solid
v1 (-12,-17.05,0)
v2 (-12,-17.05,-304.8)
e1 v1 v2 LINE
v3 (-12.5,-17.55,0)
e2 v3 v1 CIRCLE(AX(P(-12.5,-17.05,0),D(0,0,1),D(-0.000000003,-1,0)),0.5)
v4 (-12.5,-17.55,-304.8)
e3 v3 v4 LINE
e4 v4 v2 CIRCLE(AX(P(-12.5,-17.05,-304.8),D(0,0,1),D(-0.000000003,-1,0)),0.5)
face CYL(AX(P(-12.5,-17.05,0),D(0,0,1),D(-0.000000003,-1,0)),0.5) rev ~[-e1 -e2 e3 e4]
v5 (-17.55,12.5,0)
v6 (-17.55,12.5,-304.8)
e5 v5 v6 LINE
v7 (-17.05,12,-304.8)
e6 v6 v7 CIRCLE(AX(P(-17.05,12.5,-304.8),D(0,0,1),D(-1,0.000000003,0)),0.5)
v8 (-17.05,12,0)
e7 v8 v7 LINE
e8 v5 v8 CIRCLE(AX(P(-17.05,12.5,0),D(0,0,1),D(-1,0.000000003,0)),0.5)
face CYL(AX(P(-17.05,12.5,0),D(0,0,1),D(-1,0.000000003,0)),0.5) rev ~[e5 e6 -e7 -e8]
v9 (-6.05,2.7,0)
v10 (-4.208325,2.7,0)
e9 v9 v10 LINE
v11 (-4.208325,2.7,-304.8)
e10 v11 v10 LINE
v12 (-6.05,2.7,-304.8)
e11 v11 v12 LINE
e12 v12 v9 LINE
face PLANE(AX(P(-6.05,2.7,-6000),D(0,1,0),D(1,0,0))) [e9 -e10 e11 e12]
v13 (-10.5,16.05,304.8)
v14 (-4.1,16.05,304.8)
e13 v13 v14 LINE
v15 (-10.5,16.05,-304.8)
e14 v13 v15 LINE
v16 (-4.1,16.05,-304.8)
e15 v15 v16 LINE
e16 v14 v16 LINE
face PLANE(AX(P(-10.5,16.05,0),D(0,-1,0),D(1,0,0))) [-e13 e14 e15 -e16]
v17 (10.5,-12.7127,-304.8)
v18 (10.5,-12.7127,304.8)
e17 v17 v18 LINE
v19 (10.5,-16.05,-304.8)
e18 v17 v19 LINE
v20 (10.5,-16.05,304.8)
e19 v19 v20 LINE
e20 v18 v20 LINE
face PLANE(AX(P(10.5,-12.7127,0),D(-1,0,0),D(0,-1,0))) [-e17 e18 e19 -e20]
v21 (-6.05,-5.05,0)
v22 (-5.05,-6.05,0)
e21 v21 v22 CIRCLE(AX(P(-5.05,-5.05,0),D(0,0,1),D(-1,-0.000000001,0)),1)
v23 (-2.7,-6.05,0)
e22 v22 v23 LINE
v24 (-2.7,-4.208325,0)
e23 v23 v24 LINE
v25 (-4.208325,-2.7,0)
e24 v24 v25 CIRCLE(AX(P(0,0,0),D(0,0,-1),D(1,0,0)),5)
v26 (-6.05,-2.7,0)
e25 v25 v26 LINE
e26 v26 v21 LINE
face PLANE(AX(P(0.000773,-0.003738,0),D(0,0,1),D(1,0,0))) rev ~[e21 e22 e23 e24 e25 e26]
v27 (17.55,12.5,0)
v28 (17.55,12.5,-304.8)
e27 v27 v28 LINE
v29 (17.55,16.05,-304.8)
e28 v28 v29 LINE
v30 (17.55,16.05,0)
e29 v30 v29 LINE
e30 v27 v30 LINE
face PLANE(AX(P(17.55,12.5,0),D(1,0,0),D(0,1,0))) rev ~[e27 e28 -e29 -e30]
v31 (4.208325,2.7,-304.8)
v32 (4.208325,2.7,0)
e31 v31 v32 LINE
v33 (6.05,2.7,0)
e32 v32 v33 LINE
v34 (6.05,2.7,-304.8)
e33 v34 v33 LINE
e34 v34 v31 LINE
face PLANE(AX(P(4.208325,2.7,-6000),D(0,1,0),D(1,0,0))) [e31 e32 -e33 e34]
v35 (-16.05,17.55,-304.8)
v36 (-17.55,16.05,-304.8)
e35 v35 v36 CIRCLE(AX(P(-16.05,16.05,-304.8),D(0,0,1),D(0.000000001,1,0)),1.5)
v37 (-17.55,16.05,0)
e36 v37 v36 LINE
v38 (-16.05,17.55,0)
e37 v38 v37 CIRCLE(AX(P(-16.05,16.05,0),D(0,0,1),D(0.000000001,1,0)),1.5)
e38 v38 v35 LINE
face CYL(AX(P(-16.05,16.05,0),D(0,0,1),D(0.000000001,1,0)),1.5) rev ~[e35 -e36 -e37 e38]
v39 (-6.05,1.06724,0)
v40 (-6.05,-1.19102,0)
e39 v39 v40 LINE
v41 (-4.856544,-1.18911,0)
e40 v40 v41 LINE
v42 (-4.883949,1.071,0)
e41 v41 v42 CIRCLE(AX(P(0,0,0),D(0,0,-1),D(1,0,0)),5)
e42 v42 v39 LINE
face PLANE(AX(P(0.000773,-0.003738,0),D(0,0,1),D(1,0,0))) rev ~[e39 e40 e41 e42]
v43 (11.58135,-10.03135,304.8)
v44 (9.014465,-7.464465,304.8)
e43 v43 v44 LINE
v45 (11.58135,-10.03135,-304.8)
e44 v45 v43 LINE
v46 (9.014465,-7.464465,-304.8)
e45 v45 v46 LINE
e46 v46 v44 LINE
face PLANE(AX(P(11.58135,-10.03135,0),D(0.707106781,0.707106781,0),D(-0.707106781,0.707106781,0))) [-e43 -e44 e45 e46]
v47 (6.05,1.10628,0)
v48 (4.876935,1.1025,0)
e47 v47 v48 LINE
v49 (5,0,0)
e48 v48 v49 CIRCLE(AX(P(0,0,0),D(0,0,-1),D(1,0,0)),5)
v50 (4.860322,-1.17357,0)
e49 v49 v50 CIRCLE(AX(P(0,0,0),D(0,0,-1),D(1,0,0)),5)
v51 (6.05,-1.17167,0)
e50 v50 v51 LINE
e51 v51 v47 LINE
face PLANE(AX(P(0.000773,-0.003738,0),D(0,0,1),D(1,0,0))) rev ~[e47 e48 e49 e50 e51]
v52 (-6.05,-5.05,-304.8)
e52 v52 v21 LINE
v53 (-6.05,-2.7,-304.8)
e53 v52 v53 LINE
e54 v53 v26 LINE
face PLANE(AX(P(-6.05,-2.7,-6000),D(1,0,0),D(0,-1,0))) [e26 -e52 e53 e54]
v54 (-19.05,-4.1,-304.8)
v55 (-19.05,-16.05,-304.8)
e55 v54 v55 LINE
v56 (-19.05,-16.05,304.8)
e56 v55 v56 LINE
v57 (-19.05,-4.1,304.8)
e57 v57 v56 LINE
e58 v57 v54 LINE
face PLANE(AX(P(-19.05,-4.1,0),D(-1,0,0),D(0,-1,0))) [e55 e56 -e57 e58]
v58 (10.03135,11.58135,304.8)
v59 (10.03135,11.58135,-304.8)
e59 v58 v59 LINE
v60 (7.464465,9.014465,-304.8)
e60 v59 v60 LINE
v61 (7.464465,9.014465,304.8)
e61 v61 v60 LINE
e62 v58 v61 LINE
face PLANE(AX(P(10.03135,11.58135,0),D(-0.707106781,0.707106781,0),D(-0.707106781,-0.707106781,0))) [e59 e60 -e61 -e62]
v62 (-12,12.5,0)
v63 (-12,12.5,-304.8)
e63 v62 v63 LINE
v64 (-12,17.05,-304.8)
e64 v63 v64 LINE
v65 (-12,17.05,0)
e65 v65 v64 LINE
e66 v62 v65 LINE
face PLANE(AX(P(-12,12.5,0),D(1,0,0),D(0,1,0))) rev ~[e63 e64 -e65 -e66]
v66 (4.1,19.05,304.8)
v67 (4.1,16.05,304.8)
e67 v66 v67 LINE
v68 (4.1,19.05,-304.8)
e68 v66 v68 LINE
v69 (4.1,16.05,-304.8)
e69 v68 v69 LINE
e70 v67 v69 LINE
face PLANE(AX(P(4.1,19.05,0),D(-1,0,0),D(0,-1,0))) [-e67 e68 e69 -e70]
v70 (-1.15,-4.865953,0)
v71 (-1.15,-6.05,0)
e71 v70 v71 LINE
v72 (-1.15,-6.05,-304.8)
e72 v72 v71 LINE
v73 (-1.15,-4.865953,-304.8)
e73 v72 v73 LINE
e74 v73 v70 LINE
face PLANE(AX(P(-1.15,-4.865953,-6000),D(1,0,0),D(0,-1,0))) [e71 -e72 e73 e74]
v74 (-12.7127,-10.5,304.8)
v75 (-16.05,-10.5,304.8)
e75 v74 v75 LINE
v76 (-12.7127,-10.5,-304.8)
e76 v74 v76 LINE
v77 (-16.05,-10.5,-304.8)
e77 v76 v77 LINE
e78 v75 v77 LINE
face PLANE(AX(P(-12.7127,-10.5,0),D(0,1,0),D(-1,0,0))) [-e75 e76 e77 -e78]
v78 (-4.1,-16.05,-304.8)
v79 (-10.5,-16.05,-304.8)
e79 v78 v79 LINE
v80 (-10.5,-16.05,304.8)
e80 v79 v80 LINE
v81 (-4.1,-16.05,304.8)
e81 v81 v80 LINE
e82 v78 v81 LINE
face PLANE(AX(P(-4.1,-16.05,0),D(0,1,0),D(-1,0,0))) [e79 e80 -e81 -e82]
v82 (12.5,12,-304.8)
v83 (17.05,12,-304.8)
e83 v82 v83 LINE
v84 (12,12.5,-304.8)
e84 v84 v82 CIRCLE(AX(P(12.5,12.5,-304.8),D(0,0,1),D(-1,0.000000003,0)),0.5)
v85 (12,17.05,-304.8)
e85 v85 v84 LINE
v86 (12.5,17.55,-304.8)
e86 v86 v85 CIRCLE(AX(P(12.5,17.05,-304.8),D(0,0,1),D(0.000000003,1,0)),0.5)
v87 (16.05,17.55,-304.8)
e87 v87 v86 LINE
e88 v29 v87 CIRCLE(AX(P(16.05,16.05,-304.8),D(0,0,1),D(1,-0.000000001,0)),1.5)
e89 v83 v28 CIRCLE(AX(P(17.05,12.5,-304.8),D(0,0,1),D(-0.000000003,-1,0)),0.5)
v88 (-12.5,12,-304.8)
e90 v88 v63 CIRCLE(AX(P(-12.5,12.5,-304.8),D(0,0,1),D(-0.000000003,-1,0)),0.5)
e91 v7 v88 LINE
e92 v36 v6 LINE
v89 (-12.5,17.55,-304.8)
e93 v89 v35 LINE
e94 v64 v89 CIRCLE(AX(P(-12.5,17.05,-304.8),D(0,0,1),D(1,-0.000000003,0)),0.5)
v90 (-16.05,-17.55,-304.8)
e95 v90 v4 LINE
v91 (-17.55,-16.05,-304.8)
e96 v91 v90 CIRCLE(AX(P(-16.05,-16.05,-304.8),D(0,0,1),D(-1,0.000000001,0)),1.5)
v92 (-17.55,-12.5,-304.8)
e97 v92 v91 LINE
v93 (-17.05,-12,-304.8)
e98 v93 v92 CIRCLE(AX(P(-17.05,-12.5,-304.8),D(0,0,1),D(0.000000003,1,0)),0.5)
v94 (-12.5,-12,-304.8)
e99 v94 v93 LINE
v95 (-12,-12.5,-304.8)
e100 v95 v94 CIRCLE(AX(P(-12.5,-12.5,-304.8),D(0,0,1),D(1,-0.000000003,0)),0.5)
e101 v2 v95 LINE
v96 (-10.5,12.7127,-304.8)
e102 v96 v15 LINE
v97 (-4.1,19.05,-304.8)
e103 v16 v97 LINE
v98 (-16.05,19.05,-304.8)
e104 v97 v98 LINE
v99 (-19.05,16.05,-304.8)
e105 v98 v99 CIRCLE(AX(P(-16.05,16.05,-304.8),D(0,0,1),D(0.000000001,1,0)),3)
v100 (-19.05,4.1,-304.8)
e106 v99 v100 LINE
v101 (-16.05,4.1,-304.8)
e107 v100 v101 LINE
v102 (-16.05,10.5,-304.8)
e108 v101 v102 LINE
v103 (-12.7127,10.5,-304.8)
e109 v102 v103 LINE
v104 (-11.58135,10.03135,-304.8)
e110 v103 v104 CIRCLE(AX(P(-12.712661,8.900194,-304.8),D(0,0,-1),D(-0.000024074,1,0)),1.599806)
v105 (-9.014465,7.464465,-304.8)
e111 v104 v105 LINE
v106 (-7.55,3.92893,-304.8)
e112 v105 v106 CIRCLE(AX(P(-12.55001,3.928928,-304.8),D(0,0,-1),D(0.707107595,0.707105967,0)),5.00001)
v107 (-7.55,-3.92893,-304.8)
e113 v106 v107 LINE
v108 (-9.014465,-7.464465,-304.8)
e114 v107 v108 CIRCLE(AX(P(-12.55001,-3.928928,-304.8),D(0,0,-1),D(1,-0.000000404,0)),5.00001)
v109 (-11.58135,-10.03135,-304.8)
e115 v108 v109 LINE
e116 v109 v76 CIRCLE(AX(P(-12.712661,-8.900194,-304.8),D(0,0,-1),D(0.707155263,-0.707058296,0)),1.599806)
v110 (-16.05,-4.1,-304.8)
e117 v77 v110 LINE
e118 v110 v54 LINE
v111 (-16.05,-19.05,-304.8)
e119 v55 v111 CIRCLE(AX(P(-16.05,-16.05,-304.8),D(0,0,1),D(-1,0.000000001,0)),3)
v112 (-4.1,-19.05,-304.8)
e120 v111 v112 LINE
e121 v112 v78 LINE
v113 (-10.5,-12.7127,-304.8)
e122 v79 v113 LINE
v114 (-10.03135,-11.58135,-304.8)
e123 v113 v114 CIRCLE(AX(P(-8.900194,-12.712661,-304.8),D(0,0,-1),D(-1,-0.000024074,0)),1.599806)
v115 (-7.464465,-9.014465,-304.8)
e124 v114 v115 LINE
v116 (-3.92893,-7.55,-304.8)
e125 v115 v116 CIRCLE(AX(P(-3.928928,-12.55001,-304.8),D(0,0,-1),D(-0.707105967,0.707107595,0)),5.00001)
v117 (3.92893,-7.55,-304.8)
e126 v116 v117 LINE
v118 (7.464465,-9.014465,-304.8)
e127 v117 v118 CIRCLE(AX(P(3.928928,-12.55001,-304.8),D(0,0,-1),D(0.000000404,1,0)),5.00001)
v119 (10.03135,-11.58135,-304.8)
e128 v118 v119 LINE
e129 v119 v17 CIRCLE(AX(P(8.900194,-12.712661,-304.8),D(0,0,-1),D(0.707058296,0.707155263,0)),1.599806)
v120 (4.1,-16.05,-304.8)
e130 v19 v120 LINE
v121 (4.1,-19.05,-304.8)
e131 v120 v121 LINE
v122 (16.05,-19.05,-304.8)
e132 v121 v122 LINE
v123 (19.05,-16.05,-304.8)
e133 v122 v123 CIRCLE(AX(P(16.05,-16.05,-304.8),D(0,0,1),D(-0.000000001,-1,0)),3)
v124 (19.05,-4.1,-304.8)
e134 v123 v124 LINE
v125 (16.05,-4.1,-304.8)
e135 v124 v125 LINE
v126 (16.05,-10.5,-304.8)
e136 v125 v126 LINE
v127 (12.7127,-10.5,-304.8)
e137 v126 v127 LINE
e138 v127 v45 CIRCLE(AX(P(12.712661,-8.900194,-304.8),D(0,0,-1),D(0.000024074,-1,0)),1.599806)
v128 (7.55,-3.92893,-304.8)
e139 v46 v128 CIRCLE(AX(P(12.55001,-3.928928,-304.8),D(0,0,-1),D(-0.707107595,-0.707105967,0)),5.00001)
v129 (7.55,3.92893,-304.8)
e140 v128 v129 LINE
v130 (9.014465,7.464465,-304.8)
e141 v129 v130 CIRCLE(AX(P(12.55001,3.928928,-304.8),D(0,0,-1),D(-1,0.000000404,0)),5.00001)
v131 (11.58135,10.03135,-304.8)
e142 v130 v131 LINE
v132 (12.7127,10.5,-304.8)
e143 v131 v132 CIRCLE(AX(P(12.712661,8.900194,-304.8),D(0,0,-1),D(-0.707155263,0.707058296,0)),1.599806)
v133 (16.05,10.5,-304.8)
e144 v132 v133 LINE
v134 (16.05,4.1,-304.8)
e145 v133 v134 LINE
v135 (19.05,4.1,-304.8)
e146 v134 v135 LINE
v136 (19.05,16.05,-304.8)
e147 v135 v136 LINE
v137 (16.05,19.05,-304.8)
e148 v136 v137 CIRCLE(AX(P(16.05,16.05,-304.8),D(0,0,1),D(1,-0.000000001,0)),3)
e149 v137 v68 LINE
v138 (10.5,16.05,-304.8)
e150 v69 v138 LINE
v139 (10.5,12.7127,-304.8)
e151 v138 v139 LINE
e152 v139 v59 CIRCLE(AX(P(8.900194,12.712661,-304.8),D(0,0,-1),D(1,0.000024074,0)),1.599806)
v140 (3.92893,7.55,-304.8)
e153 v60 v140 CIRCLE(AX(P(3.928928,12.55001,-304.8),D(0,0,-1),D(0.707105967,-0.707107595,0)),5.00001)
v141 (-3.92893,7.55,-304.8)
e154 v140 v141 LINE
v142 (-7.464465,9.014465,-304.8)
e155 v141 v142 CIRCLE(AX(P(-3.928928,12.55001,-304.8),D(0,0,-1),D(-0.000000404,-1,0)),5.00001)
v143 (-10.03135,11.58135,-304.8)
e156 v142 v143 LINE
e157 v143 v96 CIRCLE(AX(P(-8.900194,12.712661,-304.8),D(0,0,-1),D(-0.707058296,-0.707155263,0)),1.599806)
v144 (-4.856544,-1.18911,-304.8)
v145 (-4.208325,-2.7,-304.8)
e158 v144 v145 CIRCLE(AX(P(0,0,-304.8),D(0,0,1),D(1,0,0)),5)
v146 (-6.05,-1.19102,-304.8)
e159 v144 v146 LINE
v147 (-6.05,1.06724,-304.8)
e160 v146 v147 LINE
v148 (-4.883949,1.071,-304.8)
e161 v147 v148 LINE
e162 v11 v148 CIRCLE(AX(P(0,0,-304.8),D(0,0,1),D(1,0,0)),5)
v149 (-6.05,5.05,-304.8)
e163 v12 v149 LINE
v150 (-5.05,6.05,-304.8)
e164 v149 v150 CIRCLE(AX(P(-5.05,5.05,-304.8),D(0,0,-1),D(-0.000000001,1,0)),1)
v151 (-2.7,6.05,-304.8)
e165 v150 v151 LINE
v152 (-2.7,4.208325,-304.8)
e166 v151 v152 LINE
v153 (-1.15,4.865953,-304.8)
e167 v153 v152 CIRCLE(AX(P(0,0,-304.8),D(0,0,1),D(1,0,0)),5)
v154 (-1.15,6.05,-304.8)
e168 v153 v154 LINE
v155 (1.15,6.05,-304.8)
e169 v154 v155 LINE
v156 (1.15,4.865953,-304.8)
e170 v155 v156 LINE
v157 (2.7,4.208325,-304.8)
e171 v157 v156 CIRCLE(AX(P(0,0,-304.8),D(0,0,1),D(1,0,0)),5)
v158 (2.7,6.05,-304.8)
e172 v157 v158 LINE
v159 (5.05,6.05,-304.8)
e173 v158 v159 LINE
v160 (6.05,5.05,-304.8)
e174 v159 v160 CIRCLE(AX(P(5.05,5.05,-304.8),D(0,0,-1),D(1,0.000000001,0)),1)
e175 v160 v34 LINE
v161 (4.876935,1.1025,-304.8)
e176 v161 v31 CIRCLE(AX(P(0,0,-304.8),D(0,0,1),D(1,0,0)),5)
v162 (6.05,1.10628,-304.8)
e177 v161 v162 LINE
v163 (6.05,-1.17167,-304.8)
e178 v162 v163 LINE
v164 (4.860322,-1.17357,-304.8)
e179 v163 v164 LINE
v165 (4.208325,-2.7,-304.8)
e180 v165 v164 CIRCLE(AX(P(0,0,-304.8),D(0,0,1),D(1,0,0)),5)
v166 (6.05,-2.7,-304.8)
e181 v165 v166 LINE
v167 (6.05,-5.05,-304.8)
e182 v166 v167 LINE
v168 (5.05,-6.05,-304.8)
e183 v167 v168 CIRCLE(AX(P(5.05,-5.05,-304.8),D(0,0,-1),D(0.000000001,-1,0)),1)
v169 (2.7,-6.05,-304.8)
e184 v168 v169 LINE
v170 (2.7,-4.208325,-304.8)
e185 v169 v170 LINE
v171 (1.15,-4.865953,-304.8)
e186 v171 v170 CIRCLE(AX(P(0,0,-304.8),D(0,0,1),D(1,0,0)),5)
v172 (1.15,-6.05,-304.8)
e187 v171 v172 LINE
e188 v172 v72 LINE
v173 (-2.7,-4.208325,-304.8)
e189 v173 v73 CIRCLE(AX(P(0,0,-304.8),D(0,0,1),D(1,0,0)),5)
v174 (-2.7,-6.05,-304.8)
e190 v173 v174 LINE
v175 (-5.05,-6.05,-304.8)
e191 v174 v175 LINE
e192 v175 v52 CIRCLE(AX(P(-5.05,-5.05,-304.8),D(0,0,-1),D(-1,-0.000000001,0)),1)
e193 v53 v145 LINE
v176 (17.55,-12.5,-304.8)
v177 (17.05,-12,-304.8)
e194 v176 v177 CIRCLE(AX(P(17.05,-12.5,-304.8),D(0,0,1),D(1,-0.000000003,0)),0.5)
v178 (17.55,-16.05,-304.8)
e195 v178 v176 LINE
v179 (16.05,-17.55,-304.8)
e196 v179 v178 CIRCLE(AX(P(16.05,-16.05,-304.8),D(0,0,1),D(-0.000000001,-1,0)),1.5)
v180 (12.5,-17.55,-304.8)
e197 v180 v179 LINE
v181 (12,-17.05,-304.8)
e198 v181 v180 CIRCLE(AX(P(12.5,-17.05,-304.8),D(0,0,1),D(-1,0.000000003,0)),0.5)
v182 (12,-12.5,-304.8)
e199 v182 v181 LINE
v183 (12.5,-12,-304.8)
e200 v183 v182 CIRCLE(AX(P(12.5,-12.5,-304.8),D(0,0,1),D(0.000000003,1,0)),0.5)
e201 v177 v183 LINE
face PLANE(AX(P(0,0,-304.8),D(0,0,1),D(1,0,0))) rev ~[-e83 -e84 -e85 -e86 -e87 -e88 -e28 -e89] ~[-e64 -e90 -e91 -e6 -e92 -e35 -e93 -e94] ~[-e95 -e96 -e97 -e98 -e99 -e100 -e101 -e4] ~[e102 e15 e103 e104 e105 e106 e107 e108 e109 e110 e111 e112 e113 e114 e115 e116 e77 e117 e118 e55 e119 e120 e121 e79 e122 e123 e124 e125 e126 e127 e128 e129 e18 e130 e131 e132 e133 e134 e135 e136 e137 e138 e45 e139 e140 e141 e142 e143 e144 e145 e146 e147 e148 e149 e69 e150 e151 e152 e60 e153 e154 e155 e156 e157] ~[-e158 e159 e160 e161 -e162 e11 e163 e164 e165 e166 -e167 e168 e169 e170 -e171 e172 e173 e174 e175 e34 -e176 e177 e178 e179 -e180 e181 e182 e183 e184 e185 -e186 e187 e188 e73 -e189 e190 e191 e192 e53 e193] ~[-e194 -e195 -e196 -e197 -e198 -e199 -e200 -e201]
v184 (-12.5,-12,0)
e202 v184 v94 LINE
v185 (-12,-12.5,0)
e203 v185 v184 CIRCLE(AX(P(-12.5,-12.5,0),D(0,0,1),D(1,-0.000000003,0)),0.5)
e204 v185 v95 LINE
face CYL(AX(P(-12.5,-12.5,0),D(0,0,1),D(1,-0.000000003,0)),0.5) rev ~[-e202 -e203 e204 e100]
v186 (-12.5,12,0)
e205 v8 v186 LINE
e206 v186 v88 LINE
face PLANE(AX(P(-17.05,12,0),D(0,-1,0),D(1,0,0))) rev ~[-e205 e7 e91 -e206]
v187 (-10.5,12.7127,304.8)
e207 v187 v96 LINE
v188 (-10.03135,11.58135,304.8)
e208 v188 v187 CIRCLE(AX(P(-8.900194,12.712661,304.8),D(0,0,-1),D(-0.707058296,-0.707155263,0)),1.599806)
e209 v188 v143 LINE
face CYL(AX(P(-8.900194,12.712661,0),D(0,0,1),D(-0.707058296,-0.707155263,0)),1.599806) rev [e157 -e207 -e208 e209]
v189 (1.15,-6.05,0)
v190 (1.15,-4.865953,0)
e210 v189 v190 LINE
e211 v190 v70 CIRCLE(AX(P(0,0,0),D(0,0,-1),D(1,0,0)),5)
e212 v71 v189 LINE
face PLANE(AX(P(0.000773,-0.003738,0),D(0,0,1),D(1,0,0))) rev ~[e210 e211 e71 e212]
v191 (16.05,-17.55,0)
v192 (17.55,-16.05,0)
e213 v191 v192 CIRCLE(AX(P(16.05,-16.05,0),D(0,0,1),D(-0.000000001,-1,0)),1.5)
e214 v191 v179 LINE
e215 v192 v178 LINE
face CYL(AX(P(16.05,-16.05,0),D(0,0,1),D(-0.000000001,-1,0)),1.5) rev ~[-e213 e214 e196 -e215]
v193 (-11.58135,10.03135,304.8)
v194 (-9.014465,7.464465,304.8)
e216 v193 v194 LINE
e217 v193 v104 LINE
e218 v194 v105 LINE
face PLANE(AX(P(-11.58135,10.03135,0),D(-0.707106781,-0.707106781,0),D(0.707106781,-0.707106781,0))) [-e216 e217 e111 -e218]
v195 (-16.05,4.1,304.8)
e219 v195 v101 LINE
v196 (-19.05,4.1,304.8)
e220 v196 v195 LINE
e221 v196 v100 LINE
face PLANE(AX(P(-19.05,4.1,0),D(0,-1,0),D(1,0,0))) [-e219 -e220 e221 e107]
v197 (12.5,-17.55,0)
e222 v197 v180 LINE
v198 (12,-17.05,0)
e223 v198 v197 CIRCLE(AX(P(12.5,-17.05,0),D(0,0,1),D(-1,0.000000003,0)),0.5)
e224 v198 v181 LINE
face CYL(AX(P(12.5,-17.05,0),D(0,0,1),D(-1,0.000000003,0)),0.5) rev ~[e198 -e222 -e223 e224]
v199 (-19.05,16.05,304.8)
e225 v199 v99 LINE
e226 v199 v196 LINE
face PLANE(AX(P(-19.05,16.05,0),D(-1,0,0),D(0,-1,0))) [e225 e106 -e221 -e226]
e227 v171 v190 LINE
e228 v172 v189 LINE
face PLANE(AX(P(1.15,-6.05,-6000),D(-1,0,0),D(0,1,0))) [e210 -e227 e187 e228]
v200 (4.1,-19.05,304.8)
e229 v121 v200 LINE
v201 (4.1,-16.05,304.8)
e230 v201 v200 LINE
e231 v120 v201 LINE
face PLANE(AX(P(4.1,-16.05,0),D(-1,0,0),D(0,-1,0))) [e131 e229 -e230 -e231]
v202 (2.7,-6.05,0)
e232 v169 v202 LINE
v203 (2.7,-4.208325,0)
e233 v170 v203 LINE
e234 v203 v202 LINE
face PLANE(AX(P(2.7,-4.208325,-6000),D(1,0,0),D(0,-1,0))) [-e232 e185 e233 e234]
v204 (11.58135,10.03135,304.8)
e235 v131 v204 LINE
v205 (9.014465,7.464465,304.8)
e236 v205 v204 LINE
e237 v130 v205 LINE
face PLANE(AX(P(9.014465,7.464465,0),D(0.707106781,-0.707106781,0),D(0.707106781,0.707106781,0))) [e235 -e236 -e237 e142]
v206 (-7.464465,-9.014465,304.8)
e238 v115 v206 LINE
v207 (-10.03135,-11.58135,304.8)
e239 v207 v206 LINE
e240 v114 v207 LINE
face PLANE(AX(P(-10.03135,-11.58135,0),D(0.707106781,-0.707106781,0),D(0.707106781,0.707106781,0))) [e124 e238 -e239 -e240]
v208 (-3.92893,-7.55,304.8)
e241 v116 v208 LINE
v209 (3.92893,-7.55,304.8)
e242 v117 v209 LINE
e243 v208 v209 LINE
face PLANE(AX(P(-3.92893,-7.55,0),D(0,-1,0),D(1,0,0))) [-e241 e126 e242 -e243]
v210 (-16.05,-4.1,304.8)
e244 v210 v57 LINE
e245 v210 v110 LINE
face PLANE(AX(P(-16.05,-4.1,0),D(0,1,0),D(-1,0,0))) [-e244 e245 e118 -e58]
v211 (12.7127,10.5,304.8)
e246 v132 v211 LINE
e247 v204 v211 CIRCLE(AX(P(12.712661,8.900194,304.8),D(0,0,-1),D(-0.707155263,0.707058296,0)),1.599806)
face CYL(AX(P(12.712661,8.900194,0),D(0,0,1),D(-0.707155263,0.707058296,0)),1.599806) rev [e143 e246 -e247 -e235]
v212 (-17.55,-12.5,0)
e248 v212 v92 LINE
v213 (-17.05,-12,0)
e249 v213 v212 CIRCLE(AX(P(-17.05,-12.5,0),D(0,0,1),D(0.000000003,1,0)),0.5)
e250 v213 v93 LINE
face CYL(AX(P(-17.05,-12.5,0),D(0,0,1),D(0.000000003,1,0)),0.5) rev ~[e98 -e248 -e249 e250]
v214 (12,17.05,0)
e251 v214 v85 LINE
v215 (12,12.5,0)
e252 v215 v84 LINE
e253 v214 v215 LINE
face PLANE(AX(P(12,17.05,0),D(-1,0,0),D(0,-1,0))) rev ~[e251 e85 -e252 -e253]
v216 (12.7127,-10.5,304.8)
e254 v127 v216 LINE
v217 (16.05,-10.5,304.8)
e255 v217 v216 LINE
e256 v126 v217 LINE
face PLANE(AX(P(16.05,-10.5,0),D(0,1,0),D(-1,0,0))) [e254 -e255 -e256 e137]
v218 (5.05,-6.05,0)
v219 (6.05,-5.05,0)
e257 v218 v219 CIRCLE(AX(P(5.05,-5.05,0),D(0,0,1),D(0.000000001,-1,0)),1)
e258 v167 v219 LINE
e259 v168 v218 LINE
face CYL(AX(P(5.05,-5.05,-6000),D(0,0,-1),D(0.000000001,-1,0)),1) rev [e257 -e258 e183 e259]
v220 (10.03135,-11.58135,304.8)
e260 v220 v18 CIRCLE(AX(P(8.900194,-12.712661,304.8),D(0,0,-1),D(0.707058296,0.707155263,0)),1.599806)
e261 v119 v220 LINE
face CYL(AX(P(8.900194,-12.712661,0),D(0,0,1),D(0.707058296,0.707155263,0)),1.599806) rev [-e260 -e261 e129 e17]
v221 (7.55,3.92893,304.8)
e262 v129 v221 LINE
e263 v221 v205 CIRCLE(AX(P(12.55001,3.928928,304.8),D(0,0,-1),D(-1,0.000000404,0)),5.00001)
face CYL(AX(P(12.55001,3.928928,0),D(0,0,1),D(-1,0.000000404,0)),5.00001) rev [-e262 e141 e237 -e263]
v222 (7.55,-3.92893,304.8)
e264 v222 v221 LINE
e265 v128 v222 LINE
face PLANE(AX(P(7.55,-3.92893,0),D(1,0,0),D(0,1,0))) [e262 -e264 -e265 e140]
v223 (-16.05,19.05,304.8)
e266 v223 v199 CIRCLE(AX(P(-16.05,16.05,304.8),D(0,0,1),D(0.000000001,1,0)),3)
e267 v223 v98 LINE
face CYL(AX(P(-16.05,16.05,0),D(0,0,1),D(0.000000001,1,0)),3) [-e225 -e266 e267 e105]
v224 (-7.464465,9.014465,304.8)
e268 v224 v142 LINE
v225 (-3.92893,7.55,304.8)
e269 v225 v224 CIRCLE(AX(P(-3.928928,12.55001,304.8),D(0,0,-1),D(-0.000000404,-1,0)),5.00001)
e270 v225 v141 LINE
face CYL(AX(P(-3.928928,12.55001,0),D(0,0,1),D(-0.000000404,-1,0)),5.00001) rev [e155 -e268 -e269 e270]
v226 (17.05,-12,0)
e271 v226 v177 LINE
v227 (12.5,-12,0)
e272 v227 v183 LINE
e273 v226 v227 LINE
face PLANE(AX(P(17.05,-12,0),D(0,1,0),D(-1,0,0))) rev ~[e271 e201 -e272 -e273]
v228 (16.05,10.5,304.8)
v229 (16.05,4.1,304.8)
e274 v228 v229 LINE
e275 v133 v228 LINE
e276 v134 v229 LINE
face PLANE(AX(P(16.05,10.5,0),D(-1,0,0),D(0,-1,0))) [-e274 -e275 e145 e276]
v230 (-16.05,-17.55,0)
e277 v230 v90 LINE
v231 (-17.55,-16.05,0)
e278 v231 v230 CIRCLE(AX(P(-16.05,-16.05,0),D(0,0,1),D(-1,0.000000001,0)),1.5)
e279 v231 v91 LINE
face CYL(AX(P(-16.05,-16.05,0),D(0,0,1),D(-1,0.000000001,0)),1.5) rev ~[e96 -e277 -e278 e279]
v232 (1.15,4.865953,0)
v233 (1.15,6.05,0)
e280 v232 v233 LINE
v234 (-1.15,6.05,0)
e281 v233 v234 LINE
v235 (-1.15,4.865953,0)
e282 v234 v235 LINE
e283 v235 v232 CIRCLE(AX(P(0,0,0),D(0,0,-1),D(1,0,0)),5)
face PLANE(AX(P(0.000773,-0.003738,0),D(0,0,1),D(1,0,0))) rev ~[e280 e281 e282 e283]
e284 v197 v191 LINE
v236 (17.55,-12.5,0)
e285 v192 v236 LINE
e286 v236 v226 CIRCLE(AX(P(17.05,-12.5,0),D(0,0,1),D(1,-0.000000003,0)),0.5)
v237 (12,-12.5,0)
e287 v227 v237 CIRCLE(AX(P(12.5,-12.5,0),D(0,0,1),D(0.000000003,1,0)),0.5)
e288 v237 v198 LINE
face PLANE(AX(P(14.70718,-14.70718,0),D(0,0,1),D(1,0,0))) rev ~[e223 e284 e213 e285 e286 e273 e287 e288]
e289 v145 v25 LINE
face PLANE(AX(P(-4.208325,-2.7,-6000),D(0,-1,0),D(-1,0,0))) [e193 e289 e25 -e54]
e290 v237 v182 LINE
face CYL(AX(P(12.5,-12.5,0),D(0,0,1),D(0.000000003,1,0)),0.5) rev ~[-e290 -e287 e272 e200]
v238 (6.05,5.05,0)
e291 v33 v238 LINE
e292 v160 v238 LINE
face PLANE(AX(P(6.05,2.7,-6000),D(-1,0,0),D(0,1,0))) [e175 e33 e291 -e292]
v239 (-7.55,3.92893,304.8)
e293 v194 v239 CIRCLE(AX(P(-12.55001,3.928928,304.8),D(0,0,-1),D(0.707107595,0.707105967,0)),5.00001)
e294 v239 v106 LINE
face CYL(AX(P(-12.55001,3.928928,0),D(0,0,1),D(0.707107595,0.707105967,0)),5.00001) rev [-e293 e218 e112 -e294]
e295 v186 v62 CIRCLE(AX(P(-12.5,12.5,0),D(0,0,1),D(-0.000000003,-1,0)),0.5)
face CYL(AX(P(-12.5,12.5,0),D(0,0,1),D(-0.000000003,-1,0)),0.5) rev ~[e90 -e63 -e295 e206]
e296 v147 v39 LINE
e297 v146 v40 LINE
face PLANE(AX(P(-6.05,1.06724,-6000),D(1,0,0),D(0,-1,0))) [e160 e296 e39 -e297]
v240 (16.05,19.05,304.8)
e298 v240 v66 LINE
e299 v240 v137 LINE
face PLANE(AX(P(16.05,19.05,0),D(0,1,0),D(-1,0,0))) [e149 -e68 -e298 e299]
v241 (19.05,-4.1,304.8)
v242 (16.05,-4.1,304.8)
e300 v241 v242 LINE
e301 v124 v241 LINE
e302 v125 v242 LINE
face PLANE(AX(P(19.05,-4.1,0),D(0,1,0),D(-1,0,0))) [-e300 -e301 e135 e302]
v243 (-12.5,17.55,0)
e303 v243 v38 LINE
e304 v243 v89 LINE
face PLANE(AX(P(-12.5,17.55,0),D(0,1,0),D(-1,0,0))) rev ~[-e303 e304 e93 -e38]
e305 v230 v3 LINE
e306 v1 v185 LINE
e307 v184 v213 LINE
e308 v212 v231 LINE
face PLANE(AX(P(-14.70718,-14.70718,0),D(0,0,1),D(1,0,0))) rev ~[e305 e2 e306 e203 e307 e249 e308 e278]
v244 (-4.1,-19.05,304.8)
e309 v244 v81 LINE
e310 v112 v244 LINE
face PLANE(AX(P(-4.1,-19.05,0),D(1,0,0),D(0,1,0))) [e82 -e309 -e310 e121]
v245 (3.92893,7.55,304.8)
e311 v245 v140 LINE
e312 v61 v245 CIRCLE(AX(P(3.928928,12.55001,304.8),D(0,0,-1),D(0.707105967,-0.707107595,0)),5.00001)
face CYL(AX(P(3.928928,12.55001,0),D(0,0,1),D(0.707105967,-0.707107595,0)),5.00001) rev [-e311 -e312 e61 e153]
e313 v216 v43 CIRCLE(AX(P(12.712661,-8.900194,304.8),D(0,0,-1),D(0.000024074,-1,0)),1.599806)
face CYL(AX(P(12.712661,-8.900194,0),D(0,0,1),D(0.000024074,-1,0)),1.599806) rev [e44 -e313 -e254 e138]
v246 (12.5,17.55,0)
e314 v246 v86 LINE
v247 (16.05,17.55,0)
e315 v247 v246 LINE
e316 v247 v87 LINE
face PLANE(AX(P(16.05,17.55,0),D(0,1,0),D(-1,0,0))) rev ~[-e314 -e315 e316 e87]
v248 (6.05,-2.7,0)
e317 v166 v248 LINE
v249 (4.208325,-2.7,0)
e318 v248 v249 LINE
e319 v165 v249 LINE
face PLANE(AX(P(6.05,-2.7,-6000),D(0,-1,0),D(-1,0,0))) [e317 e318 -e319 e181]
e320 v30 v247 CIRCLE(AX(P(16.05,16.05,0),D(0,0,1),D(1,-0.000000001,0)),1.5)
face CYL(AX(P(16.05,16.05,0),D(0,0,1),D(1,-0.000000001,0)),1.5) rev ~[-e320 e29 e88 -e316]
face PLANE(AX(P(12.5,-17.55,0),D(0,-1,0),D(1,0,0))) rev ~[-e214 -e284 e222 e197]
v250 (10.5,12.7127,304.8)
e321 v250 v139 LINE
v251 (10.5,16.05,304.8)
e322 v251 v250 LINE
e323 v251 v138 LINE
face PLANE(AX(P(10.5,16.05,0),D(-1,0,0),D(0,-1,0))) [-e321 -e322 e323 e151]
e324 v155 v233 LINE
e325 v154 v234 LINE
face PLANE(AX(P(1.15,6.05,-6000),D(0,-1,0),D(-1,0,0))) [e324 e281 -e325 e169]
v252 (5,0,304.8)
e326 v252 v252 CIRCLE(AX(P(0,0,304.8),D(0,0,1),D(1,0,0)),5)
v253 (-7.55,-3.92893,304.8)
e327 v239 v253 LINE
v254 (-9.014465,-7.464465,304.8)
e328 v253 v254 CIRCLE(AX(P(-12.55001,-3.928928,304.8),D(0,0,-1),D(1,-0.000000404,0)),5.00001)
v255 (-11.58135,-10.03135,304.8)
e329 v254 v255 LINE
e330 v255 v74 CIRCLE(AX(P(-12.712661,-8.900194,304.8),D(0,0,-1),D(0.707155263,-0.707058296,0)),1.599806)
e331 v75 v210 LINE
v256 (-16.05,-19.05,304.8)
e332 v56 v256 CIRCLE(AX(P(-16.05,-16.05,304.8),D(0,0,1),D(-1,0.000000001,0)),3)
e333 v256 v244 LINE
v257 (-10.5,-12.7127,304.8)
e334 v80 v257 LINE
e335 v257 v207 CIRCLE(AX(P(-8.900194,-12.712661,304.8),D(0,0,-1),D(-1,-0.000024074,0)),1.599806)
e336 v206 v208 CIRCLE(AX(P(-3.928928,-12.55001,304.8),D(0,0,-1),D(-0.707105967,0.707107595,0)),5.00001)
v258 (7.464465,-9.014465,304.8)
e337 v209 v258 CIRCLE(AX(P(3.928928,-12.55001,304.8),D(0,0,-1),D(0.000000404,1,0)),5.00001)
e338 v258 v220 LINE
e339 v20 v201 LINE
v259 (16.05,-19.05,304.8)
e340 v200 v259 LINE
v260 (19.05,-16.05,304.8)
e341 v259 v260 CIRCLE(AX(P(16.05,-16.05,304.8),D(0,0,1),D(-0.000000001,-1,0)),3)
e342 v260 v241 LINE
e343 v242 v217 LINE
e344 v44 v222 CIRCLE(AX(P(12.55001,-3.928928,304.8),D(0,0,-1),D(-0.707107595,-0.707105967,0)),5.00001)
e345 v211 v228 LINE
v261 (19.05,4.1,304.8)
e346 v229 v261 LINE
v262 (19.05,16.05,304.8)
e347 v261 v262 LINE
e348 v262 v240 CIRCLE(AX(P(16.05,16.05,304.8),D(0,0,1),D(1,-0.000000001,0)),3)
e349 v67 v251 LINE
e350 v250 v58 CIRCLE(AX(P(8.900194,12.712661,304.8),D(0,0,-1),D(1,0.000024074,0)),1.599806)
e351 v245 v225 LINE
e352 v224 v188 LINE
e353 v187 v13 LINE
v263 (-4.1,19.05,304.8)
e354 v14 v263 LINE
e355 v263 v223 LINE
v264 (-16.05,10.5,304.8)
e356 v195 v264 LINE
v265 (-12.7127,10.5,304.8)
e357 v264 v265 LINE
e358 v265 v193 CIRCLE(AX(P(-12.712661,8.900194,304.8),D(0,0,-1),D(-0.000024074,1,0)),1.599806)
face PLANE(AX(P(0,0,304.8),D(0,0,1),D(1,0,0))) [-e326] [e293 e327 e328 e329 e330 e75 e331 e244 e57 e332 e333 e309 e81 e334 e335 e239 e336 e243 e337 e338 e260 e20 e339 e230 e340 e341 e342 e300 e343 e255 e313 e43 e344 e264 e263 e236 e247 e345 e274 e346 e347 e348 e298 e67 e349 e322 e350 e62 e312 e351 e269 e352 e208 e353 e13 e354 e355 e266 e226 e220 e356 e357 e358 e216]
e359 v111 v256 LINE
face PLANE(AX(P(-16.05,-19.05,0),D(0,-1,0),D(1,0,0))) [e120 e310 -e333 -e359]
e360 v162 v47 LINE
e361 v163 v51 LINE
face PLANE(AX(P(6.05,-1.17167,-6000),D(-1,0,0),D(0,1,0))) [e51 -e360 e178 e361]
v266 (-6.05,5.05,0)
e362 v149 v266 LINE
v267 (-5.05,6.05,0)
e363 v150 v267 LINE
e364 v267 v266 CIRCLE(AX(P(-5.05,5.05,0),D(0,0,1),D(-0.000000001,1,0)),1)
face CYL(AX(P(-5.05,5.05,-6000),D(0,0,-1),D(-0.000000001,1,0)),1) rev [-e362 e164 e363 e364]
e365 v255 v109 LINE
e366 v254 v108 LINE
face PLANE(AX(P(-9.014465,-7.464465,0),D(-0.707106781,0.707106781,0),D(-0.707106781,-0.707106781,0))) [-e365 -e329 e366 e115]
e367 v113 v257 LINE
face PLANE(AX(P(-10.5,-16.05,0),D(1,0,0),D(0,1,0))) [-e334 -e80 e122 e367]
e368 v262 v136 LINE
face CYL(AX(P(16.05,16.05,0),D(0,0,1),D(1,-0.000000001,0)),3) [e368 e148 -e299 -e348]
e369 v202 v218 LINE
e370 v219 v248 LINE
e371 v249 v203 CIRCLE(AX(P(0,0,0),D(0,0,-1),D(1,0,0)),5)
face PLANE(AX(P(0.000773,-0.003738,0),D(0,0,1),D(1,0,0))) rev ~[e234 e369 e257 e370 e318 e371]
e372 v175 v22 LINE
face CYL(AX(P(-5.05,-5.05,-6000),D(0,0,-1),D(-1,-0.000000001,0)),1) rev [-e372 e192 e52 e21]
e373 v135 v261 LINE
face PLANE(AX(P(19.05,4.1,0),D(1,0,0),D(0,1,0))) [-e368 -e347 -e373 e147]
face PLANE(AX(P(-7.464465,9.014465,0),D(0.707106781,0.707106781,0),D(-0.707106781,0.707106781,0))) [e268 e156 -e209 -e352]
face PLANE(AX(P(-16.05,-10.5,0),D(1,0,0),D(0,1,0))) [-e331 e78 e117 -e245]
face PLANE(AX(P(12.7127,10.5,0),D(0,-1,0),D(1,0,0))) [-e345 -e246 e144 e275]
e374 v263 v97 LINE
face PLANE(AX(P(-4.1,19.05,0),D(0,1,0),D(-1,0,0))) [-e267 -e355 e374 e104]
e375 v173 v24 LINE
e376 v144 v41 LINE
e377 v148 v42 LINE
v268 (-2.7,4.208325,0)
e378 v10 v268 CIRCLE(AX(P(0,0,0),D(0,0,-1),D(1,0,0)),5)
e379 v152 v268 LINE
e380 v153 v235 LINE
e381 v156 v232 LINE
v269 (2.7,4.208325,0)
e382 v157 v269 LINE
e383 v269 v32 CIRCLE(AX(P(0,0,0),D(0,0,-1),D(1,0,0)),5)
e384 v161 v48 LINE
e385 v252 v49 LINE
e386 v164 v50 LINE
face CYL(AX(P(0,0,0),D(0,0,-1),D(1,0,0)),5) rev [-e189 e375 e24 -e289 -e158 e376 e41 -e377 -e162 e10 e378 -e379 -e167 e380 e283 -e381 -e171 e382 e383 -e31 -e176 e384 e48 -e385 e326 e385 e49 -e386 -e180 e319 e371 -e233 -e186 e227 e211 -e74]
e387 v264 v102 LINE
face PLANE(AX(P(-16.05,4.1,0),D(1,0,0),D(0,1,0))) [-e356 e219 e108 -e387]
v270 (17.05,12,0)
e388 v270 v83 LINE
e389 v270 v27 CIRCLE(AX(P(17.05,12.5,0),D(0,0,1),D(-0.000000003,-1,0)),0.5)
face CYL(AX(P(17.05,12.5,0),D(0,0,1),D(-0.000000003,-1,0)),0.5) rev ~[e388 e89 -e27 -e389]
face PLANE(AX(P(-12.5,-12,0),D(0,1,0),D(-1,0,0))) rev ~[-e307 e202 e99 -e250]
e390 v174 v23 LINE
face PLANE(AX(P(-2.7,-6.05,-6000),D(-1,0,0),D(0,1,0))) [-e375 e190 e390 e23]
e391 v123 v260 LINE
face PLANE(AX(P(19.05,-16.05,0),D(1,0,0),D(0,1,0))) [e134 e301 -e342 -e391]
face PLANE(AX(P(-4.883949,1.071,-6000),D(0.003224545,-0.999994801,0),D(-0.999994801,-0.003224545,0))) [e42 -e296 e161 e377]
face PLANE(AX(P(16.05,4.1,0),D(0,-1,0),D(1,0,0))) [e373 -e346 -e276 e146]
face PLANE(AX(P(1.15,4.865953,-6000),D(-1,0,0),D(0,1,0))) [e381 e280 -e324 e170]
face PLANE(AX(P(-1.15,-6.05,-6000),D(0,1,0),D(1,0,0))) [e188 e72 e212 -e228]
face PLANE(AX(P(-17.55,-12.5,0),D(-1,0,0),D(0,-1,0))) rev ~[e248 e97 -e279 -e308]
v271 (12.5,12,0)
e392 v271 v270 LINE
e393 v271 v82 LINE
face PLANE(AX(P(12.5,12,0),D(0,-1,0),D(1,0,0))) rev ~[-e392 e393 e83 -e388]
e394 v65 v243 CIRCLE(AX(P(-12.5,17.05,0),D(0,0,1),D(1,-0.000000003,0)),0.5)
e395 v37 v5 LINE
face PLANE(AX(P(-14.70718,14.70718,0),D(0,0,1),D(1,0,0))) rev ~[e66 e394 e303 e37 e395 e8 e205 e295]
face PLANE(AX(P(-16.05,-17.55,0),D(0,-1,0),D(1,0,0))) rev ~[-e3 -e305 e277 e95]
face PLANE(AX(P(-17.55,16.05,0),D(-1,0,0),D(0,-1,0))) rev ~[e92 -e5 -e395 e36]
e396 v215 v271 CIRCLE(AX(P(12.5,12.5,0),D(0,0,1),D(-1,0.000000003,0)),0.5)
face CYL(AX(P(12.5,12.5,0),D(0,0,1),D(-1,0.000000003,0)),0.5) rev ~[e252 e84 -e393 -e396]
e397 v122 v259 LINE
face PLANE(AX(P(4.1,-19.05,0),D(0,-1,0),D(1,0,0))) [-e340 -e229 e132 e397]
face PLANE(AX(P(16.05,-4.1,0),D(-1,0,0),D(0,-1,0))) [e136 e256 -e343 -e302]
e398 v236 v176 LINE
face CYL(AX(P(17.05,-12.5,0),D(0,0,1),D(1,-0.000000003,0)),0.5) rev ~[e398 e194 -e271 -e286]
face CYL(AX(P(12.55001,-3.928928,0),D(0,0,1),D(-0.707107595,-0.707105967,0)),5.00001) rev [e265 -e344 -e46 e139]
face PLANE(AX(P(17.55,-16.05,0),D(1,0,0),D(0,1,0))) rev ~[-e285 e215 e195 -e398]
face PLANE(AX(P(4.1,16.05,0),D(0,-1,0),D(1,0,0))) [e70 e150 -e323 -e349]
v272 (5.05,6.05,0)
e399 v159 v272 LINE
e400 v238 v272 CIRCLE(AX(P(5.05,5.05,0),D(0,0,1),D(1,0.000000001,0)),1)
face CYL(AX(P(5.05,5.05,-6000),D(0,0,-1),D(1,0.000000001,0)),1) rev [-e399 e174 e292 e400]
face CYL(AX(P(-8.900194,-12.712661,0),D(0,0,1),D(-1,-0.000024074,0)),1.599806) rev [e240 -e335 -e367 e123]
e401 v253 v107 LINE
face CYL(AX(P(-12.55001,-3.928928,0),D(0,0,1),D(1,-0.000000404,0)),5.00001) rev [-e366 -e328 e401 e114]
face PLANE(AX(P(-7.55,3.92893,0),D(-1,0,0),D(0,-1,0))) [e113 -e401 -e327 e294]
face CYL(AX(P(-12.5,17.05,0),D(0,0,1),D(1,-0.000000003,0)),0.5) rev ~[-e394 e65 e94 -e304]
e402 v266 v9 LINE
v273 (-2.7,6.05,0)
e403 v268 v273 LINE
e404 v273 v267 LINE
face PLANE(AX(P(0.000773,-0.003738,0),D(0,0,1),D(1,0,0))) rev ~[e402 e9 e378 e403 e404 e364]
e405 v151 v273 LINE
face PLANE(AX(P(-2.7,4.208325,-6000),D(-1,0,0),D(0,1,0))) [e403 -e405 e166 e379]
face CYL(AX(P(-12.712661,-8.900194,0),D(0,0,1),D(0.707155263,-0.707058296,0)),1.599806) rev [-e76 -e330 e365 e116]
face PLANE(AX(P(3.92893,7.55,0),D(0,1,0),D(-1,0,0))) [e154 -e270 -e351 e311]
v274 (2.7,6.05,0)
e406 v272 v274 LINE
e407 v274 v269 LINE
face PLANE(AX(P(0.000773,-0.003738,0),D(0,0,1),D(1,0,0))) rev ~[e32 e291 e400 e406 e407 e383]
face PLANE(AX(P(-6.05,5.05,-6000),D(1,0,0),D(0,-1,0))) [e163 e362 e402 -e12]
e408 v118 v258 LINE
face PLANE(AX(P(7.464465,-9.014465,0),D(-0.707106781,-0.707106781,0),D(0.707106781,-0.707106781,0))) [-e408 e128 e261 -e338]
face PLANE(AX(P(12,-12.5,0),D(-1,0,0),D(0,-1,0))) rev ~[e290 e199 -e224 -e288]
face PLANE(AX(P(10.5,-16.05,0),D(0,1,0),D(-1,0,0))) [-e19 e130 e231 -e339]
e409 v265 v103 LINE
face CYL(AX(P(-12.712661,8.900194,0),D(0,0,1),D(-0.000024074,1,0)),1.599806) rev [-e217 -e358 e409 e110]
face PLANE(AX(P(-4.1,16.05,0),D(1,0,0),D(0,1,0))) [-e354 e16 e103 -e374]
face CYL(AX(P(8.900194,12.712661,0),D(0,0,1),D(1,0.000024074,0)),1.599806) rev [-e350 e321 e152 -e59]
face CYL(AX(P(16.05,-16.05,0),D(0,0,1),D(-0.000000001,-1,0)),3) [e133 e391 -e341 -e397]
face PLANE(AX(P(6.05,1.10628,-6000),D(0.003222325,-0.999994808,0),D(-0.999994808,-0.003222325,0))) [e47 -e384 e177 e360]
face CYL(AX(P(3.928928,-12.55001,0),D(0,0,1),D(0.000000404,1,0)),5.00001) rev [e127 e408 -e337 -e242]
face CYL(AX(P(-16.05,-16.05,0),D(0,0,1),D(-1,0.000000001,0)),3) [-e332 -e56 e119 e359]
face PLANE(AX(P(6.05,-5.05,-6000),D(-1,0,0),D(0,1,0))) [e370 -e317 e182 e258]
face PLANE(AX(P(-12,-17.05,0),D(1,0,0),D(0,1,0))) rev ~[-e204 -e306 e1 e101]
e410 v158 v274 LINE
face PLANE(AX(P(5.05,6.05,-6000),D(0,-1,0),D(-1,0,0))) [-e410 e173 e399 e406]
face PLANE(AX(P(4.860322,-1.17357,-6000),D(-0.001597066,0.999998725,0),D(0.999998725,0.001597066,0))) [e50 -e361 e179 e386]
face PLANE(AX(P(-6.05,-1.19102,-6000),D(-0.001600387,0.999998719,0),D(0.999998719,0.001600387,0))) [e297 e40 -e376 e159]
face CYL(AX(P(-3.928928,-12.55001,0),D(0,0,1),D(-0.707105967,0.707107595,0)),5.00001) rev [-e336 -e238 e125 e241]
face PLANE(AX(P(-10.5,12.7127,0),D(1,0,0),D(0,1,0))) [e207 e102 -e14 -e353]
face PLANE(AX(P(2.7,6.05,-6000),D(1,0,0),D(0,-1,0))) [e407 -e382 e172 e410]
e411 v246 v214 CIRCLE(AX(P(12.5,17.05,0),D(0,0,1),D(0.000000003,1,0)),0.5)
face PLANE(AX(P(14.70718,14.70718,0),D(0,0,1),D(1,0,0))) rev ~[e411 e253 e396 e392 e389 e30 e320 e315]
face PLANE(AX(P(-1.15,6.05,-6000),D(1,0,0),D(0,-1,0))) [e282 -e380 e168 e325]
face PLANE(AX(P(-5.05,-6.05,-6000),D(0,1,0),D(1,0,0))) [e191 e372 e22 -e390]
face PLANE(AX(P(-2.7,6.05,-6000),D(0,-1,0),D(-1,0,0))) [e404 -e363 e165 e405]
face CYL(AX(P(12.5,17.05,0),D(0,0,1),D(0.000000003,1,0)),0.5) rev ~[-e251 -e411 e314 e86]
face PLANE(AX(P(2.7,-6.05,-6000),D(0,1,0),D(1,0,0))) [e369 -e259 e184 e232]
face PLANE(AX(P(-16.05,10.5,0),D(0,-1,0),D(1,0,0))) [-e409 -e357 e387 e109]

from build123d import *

# Parameters (mm, degrees)
SKETCH1_R           = 5
BOSS_EXTRUDE1_DEPTH = 304.8
CUT_EXTRUDE1_DEPTH  = 6000
CUT_EXTRUDE2_DEPTH  = 6000
CUT_EXTRUDE3_START  = -6000
CUT_EXTRUDE3_DEPTH  = 6000
CUT_EXTRUDE4_DEPTH  = 6000
CUT_EXTRUDE5_DEPTH  = 6000


with BuildPart() as part:
    # Sketch1 → Boss-Extrude1 (new, symmetric)
    with BuildSketch(Plane.XY):
        with BuildLine():
            Line((-19.05, -4.1), (-19.05, -16.05))
            ThreePointArc((-19.05, -16.05), (-18.171320344, -18.171320344), (-16.05, -19.05))
            Line((-16.05, -19.05), (-4.1, -19.05))
            Line((-4.1, -19.05), (-4.1, -16.05))
            Line((-4.1, -16.05), (-10.5, -16.05))
            Line((-10.5, -16.05), (-10.5, -12.7127))
            ThreePointArc((-10.5, -12.7127), (-10.378208373, -12.100409218), (-10.03135, -11.58135))
            Line((-10.03135, -11.58135), (-7.464465, -9.014465))
            ThreePointArc((-7.464465, -9.014465), (-5.842347304, -7.930602396), (-3.92893, -7.55))
            Line((-3.92893, -7.55), (3.92893, -7.55))
            ThreePointArc((3.92893, -7.55), (5.842347304, -7.930602396), (7.464465, -9.014465))
            Line((7.464465, -9.014465), (10.03135, -11.58135))
            ThreePointArc((10.03135, -11.58135), (10.378208373, -12.100409218), (10.5, -12.7127))
            Line((10.5, -12.7127), (10.5, -16.05))
            Line((10.5, -16.05), (4.1, -16.05))
            Line((4.1, -16.05), (4.1, -19.05))
            Line((4.1, -19.05), (16.05, -19.05))
            ThreePointArc((16.05, -19.05), (18.171320344, -18.171320344), (19.05, -16.05))
            Line((19.05, -16.05), (19.05, -4.1))
            Line((19.05, -4.1), (16.05, -4.1))
            Line((16.05, -4.1), (16.05, -10.5))
            Line((16.05, -10.5), (12.7127, -10.5))
            ThreePointArc((12.7127, -10.5), (12.100409218, -10.378208373), (11.58135, -10.03135))
            Line((11.58135, -10.03135), (9.014465, -7.464465))
            ThreePointArc((9.014465, -7.464465), (7.930602396, -5.842347304), (7.55, -3.92893))
            Line((7.55, -3.92893), (7.55, 3.92893))
            ThreePointArc((7.55, 3.92893), (7.930602396, 5.842347304), (9.014465, 7.464465))
            Line((9.014465, 7.464465), (11.58135, 10.03135))
            ThreePointArc((11.58135, 10.03135), (12.100409218, 10.378208373), (12.7127, 10.5))
            Line((12.7127, 10.5), (16.05, 10.5))
            Line((16.05, 10.5), (16.05, 4.1))
            Line((16.05, 4.1), (19.05, 4.1))
            Line((19.05, 4.1), (19.05, 16.05))
            ThreePointArc((19.05, 16.05), (18.171320344, 18.171320344), (16.05, 19.05))
            Line((16.05, 19.05), (4.1, 19.05))
            Line((4.1, 19.05), (4.1, 16.05))
            Line((4.1, 16.05), (10.5, 16.05))
            Line((10.5, 16.05), (10.5, 12.7127))
            ThreePointArc((10.5, 12.7127), (10.378208373, 12.100409218), (10.03135, 11.58135))
            Line((10.03135, 11.58135), (7.464465, 9.014465))
            ThreePointArc((7.464465, 9.014465), (5.842347304, 7.930602396), (3.92893, 7.55))
            Line((3.92893, 7.55), (-3.92893, 7.55))
            ThreePointArc((-3.92893, 7.55), (-5.842347304, 7.930602396), (-7.464465, 9.014465))
            Line((-7.464465, 9.014465), (-10.03135, 11.58135))
            ThreePointArc((-10.03135, 11.58135), (-10.378208373, 12.100409218), (-10.5, 12.7127))
            Line((-10.5, 12.7127), (-10.5, 16.05))
            Line((-10.5, 16.05), (-4.1, 16.05))
            Line((-4.1, 16.05), (-4.1, 19.05))
            Line((-4.1, 19.05), (-16.05, 19.05))
            ThreePointArc((-16.05, 19.05), (-18.171320344, 18.171320344), (-19.05, 16.05))
            Line((-19.05, 16.05), (-19.05, 4.1))
            Line((-19.05, 4.1), (-16.05, 4.1))
            Line((-16.05, 4.1), (-16.05, 10.5))
            Line((-16.05, 10.5), (-12.7127, 10.5))
            ThreePointArc((-12.7127, 10.5), (-12.100409218, 10.378208373), (-11.58135, 10.03135))
            Line((-11.58135, 10.03135), (-9.014465, 7.464465))
            ThreePointArc((-9.014465, 7.464465), (-7.930602396, 5.842347304), (-7.55, 3.92893))
            Line((-7.55, 3.92893), (-7.55, -3.92893))
            ThreePointArc((-7.55, -3.92893), (-7.930602396, -5.842347304), (-9.014465, -7.464465))
            Line((-9.014465, -7.464465), (-11.58135, -10.03135))
            ThreePointArc((-11.58135, -10.03135), (-12.100409218, -10.378208373), (-12.7127, -10.5))
            Line((-12.7127, -10.5), (-16.05, -10.5))
            Line((-16.05, -10.5), (-16.05, -4.1))
            Line((-16.05, -4.1), (-19.05, -4.1))
        make_face()
        Circle(SKETCH1_R, mode=Mode.SUBTRACT)
    extrude(amount=BOSS_EXTRUDE1_DEPTH, both=True)

    # Sketch2 → Cut-Extrude1 (cut)
    with BuildSketch(Plane.XY):
        with BuildLine():
            Line((-17.55, -12.5), (-17.55, -16.05))
            ThreePointArc((-17.55, -16.05), (-17.110660172, -17.110660172), (-16.05, -17.55))
            Line((-16.05, -17.55), (-12.5, -17.55))
            ThreePointArc((-12.5, -17.55), (-12.146446609, -17.403553391), (-12, -17.05))
            Line((-12, -17.05), (-12, -12.5))
            ThreePointArc((-12, -12.5), (-12.146446609, -12.146446609), (-12.5, -12))
            Line((-12.5, -12), (-17.05, -12))
            ThreePointArc((-17.05, -12), (-17.403553391, -12.146446609), (-17.55, -12.5))
        make_face()
    extrude(amount=-CUT_EXTRUDE1_DEPTH, mode=Mode.SUBTRACT)

    # Sketch3 → Cut-Extrude2 (cut)
    with BuildSketch(Plane.XY):
        with BuildLine():
            Line((12.5, -17.55), (16.05, -17.55))
            ThreePointArc((16.05, -17.55), (17.110660172, -17.110660172), (17.55, -16.05))
            Line((17.55, -16.05), (17.55, -12.5))
            ThreePointArc((17.55, -12.5), (17.403553391, -12.146446609), (17.05, -12))
            Line((17.05, -12), (12.5, -12))
            ThreePointArc((12.5, -12), (12.146446609, -12.146446609), (12, -12.5))
            Line((12, -12.5), (12, -17.05))
            ThreePointArc((12, -17.05), (12.146446609, -17.403553391), (12.5, -17.55))
        make_face()
    extrude(amount=-CUT_EXTRUDE2_DEPTH, mode=Mode.SUBTRACT)

    # Sketch4 → Cut-Extrude3 (cut)
    with BuildSketch(Plane.XY.offset(CUT_EXTRUDE3_START)):
        with BuildLine():
            Line((-6.05, 1.06724), (-6.05, -1.19102))
            Line((-6.05, -1.19102), (-4.85654377, -1.189110006))
            ThreePointArc((-4.85654377, -1.189110006), (-4.594960171, -1.971380488), (-4.208325083, -2.7))
            Line((-4.208325083, -2.7), (-6.05, -2.7))
            Line((-6.05, -2.7), (-6.05, -5.05))
            ThreePointArc((-6.05, -5.05), (-5.757106781, -5.757106781), (-5.05, -6.05))
            Line((-5.05, -6.05), (-2.7, -6.05))
            Line((-2.7, -6.05), (-2.7, -4.208325083))
            ThreePointArc((-2.7, -4.208325083), (-1.952880863, -4.602853064), (-1.15, -4.865953144))
            Line((-1.15, -4.865953144), (-1.15, -6.05))
            Line((-1.15, -6.05), (1.15, -6.05))
            Line((1.15, -6.05), (1.15, -4.865953144))
            ThreePointArc((1.15, -4.865953144), (1.952880863, -4.602853064), (2.7, -4.208325083))
            Line((2.7, -4.208325083), (2.7, -6.05))
            Line((2.7, -6.05), (5.05, -6.05))
            ThreePointArc((5.05, -6.05), (5.757106781, -5.757106781), (6.05, -5.05))
            Line((6.05, -5.05), (6.05, -2.7))
            Line((6.05, -2.7), (4.208325083, -2.7))
            ThreePointArc((4.208325083, -2.7), (4.598107084, -1.964029338), (4.860322362, -1.173569996))
            Line((4.860322362, -1.173569996), (6.05, -1.17167))
            Line((6.05, -1.17167), (6.05, 1.10628))
            Line((6.05, 1.10628), (4.876934876, 1.102499983))
            ThreePointArc((4.876934876, 1.102499983), (4.612319233, 1.930417389), (4.208325083, 2.7))
            Line((4.208325083, 2.7), (6.05, 2.7))
            Line((6.05, 2.7), (6.05, 5.05))
            ThreePointArc((6.05, 5.05), (5.757106781, 5.757106781), (5.05, 6.05))
            Line((5.05, 6.05), (2.7, 6.05))
            Line((2.7, 6.05), (2.7, 4.208325083))
            ThreePointArc((2.7, 4.208325083), (1.952880863, 4.602853064), (1.15, 4.865953144))
            Line((1.15, 4.865953144), (1.15, 6.05))
            Line((1.15, 6.05), (-1.15, 6.05))
            Line((-1.15, 6.05), (-1.15, 4.865953144))
            ThreePointArc((-1.15, 4.865953144), (-1.952880863, 4.602853064), (-2.7, 4.208325083))
            Line((-2.7, 4.208325083), (-2.7, 6.05))
            Line((-2.7, 6.05), (-5.05, 6.05))
            ThreePointArc((-5.05, 6.05), (-5.757106781, 5.757106781), (-6.05, 5.05))
            Line((-6.05, 5.05), (-6.05, 2.7))
            Line((-6.05, 2.7), (-4.208325083, 2.7))
            ThreePointArc((-4.208325083, 2.7), (-4.618524958, 1.9155227), (-4.883949119, 1.071000003))
            Line((-4.883949119, 1.071000003), (-6.05, 1.06724))
        make_face()
    extrude(amount=CUT_EXTRUDE3_DEPTH, mode=Mode.SUBTRACT)

    # Sketch5 → Cut-Extrude4 (cut)
    with BuildSketch(Plane.XY):
        with BuildLine():
            Line((12, 17.05), (12, 12.5))
            ThreePointArc((12, 12.5), (12.146446609, 12.146446609), (12.5, 12))
            Line((12.5, 12), (17.05, 12))
            ThreePointArc((17.05, 12), (17.403553391, 12.146446609), (17.55, 12.5))
            Line((17.55, 12.5), (17.55, 16.05))
            ThreePointArc((17.55, 16.05), (17.110660172, 17.110660172), (16.05, 17.55))
            Line((16.05, 17.55), (12.5, 17.55))
            ThreePointArc((12.5, 17.55), (12.146446609, 17.403553391), (12, 17.05))
        make_face()
    extrude(amount=-CUT_EXTRUDE4_DEPTH, mode=Mode.SUBTRACT)

    # Sketch6 → Cut-Extrude5 (cut)
    with BuildSketch(Plane.XY):
        with BuildLine():
            Line((-17.05, 12), (-12.5, 12))
            ThreePointArc((-12.5, 12), (-12.146446609, 12.146446609), (-12, 12.5))
            Line((-12, 12.5), (-12, 17.05))
            ThreePointArc((-12, 17.05), (-12.146446609, 17.403553391), (-12.5, 17.55))
            Line((-12.5, 17.55), (-16.05, 17.55))
            ThreePointArc((-16.05, 17.55), (-17.110660172, 17.110660172), (-17.55, 16.05))
            Line((-17.55, 16.05), (-17.55, 12.5))
            ThreePointArc((-17.55, 12.5), (-17.403553391, 12.146446609), (-17.05, 12))
        make_face()
    extrude(amount=-CUT_EXTRUDE5_DEPTH, mode=Mode.SUBTRACT)


solid = part.part
